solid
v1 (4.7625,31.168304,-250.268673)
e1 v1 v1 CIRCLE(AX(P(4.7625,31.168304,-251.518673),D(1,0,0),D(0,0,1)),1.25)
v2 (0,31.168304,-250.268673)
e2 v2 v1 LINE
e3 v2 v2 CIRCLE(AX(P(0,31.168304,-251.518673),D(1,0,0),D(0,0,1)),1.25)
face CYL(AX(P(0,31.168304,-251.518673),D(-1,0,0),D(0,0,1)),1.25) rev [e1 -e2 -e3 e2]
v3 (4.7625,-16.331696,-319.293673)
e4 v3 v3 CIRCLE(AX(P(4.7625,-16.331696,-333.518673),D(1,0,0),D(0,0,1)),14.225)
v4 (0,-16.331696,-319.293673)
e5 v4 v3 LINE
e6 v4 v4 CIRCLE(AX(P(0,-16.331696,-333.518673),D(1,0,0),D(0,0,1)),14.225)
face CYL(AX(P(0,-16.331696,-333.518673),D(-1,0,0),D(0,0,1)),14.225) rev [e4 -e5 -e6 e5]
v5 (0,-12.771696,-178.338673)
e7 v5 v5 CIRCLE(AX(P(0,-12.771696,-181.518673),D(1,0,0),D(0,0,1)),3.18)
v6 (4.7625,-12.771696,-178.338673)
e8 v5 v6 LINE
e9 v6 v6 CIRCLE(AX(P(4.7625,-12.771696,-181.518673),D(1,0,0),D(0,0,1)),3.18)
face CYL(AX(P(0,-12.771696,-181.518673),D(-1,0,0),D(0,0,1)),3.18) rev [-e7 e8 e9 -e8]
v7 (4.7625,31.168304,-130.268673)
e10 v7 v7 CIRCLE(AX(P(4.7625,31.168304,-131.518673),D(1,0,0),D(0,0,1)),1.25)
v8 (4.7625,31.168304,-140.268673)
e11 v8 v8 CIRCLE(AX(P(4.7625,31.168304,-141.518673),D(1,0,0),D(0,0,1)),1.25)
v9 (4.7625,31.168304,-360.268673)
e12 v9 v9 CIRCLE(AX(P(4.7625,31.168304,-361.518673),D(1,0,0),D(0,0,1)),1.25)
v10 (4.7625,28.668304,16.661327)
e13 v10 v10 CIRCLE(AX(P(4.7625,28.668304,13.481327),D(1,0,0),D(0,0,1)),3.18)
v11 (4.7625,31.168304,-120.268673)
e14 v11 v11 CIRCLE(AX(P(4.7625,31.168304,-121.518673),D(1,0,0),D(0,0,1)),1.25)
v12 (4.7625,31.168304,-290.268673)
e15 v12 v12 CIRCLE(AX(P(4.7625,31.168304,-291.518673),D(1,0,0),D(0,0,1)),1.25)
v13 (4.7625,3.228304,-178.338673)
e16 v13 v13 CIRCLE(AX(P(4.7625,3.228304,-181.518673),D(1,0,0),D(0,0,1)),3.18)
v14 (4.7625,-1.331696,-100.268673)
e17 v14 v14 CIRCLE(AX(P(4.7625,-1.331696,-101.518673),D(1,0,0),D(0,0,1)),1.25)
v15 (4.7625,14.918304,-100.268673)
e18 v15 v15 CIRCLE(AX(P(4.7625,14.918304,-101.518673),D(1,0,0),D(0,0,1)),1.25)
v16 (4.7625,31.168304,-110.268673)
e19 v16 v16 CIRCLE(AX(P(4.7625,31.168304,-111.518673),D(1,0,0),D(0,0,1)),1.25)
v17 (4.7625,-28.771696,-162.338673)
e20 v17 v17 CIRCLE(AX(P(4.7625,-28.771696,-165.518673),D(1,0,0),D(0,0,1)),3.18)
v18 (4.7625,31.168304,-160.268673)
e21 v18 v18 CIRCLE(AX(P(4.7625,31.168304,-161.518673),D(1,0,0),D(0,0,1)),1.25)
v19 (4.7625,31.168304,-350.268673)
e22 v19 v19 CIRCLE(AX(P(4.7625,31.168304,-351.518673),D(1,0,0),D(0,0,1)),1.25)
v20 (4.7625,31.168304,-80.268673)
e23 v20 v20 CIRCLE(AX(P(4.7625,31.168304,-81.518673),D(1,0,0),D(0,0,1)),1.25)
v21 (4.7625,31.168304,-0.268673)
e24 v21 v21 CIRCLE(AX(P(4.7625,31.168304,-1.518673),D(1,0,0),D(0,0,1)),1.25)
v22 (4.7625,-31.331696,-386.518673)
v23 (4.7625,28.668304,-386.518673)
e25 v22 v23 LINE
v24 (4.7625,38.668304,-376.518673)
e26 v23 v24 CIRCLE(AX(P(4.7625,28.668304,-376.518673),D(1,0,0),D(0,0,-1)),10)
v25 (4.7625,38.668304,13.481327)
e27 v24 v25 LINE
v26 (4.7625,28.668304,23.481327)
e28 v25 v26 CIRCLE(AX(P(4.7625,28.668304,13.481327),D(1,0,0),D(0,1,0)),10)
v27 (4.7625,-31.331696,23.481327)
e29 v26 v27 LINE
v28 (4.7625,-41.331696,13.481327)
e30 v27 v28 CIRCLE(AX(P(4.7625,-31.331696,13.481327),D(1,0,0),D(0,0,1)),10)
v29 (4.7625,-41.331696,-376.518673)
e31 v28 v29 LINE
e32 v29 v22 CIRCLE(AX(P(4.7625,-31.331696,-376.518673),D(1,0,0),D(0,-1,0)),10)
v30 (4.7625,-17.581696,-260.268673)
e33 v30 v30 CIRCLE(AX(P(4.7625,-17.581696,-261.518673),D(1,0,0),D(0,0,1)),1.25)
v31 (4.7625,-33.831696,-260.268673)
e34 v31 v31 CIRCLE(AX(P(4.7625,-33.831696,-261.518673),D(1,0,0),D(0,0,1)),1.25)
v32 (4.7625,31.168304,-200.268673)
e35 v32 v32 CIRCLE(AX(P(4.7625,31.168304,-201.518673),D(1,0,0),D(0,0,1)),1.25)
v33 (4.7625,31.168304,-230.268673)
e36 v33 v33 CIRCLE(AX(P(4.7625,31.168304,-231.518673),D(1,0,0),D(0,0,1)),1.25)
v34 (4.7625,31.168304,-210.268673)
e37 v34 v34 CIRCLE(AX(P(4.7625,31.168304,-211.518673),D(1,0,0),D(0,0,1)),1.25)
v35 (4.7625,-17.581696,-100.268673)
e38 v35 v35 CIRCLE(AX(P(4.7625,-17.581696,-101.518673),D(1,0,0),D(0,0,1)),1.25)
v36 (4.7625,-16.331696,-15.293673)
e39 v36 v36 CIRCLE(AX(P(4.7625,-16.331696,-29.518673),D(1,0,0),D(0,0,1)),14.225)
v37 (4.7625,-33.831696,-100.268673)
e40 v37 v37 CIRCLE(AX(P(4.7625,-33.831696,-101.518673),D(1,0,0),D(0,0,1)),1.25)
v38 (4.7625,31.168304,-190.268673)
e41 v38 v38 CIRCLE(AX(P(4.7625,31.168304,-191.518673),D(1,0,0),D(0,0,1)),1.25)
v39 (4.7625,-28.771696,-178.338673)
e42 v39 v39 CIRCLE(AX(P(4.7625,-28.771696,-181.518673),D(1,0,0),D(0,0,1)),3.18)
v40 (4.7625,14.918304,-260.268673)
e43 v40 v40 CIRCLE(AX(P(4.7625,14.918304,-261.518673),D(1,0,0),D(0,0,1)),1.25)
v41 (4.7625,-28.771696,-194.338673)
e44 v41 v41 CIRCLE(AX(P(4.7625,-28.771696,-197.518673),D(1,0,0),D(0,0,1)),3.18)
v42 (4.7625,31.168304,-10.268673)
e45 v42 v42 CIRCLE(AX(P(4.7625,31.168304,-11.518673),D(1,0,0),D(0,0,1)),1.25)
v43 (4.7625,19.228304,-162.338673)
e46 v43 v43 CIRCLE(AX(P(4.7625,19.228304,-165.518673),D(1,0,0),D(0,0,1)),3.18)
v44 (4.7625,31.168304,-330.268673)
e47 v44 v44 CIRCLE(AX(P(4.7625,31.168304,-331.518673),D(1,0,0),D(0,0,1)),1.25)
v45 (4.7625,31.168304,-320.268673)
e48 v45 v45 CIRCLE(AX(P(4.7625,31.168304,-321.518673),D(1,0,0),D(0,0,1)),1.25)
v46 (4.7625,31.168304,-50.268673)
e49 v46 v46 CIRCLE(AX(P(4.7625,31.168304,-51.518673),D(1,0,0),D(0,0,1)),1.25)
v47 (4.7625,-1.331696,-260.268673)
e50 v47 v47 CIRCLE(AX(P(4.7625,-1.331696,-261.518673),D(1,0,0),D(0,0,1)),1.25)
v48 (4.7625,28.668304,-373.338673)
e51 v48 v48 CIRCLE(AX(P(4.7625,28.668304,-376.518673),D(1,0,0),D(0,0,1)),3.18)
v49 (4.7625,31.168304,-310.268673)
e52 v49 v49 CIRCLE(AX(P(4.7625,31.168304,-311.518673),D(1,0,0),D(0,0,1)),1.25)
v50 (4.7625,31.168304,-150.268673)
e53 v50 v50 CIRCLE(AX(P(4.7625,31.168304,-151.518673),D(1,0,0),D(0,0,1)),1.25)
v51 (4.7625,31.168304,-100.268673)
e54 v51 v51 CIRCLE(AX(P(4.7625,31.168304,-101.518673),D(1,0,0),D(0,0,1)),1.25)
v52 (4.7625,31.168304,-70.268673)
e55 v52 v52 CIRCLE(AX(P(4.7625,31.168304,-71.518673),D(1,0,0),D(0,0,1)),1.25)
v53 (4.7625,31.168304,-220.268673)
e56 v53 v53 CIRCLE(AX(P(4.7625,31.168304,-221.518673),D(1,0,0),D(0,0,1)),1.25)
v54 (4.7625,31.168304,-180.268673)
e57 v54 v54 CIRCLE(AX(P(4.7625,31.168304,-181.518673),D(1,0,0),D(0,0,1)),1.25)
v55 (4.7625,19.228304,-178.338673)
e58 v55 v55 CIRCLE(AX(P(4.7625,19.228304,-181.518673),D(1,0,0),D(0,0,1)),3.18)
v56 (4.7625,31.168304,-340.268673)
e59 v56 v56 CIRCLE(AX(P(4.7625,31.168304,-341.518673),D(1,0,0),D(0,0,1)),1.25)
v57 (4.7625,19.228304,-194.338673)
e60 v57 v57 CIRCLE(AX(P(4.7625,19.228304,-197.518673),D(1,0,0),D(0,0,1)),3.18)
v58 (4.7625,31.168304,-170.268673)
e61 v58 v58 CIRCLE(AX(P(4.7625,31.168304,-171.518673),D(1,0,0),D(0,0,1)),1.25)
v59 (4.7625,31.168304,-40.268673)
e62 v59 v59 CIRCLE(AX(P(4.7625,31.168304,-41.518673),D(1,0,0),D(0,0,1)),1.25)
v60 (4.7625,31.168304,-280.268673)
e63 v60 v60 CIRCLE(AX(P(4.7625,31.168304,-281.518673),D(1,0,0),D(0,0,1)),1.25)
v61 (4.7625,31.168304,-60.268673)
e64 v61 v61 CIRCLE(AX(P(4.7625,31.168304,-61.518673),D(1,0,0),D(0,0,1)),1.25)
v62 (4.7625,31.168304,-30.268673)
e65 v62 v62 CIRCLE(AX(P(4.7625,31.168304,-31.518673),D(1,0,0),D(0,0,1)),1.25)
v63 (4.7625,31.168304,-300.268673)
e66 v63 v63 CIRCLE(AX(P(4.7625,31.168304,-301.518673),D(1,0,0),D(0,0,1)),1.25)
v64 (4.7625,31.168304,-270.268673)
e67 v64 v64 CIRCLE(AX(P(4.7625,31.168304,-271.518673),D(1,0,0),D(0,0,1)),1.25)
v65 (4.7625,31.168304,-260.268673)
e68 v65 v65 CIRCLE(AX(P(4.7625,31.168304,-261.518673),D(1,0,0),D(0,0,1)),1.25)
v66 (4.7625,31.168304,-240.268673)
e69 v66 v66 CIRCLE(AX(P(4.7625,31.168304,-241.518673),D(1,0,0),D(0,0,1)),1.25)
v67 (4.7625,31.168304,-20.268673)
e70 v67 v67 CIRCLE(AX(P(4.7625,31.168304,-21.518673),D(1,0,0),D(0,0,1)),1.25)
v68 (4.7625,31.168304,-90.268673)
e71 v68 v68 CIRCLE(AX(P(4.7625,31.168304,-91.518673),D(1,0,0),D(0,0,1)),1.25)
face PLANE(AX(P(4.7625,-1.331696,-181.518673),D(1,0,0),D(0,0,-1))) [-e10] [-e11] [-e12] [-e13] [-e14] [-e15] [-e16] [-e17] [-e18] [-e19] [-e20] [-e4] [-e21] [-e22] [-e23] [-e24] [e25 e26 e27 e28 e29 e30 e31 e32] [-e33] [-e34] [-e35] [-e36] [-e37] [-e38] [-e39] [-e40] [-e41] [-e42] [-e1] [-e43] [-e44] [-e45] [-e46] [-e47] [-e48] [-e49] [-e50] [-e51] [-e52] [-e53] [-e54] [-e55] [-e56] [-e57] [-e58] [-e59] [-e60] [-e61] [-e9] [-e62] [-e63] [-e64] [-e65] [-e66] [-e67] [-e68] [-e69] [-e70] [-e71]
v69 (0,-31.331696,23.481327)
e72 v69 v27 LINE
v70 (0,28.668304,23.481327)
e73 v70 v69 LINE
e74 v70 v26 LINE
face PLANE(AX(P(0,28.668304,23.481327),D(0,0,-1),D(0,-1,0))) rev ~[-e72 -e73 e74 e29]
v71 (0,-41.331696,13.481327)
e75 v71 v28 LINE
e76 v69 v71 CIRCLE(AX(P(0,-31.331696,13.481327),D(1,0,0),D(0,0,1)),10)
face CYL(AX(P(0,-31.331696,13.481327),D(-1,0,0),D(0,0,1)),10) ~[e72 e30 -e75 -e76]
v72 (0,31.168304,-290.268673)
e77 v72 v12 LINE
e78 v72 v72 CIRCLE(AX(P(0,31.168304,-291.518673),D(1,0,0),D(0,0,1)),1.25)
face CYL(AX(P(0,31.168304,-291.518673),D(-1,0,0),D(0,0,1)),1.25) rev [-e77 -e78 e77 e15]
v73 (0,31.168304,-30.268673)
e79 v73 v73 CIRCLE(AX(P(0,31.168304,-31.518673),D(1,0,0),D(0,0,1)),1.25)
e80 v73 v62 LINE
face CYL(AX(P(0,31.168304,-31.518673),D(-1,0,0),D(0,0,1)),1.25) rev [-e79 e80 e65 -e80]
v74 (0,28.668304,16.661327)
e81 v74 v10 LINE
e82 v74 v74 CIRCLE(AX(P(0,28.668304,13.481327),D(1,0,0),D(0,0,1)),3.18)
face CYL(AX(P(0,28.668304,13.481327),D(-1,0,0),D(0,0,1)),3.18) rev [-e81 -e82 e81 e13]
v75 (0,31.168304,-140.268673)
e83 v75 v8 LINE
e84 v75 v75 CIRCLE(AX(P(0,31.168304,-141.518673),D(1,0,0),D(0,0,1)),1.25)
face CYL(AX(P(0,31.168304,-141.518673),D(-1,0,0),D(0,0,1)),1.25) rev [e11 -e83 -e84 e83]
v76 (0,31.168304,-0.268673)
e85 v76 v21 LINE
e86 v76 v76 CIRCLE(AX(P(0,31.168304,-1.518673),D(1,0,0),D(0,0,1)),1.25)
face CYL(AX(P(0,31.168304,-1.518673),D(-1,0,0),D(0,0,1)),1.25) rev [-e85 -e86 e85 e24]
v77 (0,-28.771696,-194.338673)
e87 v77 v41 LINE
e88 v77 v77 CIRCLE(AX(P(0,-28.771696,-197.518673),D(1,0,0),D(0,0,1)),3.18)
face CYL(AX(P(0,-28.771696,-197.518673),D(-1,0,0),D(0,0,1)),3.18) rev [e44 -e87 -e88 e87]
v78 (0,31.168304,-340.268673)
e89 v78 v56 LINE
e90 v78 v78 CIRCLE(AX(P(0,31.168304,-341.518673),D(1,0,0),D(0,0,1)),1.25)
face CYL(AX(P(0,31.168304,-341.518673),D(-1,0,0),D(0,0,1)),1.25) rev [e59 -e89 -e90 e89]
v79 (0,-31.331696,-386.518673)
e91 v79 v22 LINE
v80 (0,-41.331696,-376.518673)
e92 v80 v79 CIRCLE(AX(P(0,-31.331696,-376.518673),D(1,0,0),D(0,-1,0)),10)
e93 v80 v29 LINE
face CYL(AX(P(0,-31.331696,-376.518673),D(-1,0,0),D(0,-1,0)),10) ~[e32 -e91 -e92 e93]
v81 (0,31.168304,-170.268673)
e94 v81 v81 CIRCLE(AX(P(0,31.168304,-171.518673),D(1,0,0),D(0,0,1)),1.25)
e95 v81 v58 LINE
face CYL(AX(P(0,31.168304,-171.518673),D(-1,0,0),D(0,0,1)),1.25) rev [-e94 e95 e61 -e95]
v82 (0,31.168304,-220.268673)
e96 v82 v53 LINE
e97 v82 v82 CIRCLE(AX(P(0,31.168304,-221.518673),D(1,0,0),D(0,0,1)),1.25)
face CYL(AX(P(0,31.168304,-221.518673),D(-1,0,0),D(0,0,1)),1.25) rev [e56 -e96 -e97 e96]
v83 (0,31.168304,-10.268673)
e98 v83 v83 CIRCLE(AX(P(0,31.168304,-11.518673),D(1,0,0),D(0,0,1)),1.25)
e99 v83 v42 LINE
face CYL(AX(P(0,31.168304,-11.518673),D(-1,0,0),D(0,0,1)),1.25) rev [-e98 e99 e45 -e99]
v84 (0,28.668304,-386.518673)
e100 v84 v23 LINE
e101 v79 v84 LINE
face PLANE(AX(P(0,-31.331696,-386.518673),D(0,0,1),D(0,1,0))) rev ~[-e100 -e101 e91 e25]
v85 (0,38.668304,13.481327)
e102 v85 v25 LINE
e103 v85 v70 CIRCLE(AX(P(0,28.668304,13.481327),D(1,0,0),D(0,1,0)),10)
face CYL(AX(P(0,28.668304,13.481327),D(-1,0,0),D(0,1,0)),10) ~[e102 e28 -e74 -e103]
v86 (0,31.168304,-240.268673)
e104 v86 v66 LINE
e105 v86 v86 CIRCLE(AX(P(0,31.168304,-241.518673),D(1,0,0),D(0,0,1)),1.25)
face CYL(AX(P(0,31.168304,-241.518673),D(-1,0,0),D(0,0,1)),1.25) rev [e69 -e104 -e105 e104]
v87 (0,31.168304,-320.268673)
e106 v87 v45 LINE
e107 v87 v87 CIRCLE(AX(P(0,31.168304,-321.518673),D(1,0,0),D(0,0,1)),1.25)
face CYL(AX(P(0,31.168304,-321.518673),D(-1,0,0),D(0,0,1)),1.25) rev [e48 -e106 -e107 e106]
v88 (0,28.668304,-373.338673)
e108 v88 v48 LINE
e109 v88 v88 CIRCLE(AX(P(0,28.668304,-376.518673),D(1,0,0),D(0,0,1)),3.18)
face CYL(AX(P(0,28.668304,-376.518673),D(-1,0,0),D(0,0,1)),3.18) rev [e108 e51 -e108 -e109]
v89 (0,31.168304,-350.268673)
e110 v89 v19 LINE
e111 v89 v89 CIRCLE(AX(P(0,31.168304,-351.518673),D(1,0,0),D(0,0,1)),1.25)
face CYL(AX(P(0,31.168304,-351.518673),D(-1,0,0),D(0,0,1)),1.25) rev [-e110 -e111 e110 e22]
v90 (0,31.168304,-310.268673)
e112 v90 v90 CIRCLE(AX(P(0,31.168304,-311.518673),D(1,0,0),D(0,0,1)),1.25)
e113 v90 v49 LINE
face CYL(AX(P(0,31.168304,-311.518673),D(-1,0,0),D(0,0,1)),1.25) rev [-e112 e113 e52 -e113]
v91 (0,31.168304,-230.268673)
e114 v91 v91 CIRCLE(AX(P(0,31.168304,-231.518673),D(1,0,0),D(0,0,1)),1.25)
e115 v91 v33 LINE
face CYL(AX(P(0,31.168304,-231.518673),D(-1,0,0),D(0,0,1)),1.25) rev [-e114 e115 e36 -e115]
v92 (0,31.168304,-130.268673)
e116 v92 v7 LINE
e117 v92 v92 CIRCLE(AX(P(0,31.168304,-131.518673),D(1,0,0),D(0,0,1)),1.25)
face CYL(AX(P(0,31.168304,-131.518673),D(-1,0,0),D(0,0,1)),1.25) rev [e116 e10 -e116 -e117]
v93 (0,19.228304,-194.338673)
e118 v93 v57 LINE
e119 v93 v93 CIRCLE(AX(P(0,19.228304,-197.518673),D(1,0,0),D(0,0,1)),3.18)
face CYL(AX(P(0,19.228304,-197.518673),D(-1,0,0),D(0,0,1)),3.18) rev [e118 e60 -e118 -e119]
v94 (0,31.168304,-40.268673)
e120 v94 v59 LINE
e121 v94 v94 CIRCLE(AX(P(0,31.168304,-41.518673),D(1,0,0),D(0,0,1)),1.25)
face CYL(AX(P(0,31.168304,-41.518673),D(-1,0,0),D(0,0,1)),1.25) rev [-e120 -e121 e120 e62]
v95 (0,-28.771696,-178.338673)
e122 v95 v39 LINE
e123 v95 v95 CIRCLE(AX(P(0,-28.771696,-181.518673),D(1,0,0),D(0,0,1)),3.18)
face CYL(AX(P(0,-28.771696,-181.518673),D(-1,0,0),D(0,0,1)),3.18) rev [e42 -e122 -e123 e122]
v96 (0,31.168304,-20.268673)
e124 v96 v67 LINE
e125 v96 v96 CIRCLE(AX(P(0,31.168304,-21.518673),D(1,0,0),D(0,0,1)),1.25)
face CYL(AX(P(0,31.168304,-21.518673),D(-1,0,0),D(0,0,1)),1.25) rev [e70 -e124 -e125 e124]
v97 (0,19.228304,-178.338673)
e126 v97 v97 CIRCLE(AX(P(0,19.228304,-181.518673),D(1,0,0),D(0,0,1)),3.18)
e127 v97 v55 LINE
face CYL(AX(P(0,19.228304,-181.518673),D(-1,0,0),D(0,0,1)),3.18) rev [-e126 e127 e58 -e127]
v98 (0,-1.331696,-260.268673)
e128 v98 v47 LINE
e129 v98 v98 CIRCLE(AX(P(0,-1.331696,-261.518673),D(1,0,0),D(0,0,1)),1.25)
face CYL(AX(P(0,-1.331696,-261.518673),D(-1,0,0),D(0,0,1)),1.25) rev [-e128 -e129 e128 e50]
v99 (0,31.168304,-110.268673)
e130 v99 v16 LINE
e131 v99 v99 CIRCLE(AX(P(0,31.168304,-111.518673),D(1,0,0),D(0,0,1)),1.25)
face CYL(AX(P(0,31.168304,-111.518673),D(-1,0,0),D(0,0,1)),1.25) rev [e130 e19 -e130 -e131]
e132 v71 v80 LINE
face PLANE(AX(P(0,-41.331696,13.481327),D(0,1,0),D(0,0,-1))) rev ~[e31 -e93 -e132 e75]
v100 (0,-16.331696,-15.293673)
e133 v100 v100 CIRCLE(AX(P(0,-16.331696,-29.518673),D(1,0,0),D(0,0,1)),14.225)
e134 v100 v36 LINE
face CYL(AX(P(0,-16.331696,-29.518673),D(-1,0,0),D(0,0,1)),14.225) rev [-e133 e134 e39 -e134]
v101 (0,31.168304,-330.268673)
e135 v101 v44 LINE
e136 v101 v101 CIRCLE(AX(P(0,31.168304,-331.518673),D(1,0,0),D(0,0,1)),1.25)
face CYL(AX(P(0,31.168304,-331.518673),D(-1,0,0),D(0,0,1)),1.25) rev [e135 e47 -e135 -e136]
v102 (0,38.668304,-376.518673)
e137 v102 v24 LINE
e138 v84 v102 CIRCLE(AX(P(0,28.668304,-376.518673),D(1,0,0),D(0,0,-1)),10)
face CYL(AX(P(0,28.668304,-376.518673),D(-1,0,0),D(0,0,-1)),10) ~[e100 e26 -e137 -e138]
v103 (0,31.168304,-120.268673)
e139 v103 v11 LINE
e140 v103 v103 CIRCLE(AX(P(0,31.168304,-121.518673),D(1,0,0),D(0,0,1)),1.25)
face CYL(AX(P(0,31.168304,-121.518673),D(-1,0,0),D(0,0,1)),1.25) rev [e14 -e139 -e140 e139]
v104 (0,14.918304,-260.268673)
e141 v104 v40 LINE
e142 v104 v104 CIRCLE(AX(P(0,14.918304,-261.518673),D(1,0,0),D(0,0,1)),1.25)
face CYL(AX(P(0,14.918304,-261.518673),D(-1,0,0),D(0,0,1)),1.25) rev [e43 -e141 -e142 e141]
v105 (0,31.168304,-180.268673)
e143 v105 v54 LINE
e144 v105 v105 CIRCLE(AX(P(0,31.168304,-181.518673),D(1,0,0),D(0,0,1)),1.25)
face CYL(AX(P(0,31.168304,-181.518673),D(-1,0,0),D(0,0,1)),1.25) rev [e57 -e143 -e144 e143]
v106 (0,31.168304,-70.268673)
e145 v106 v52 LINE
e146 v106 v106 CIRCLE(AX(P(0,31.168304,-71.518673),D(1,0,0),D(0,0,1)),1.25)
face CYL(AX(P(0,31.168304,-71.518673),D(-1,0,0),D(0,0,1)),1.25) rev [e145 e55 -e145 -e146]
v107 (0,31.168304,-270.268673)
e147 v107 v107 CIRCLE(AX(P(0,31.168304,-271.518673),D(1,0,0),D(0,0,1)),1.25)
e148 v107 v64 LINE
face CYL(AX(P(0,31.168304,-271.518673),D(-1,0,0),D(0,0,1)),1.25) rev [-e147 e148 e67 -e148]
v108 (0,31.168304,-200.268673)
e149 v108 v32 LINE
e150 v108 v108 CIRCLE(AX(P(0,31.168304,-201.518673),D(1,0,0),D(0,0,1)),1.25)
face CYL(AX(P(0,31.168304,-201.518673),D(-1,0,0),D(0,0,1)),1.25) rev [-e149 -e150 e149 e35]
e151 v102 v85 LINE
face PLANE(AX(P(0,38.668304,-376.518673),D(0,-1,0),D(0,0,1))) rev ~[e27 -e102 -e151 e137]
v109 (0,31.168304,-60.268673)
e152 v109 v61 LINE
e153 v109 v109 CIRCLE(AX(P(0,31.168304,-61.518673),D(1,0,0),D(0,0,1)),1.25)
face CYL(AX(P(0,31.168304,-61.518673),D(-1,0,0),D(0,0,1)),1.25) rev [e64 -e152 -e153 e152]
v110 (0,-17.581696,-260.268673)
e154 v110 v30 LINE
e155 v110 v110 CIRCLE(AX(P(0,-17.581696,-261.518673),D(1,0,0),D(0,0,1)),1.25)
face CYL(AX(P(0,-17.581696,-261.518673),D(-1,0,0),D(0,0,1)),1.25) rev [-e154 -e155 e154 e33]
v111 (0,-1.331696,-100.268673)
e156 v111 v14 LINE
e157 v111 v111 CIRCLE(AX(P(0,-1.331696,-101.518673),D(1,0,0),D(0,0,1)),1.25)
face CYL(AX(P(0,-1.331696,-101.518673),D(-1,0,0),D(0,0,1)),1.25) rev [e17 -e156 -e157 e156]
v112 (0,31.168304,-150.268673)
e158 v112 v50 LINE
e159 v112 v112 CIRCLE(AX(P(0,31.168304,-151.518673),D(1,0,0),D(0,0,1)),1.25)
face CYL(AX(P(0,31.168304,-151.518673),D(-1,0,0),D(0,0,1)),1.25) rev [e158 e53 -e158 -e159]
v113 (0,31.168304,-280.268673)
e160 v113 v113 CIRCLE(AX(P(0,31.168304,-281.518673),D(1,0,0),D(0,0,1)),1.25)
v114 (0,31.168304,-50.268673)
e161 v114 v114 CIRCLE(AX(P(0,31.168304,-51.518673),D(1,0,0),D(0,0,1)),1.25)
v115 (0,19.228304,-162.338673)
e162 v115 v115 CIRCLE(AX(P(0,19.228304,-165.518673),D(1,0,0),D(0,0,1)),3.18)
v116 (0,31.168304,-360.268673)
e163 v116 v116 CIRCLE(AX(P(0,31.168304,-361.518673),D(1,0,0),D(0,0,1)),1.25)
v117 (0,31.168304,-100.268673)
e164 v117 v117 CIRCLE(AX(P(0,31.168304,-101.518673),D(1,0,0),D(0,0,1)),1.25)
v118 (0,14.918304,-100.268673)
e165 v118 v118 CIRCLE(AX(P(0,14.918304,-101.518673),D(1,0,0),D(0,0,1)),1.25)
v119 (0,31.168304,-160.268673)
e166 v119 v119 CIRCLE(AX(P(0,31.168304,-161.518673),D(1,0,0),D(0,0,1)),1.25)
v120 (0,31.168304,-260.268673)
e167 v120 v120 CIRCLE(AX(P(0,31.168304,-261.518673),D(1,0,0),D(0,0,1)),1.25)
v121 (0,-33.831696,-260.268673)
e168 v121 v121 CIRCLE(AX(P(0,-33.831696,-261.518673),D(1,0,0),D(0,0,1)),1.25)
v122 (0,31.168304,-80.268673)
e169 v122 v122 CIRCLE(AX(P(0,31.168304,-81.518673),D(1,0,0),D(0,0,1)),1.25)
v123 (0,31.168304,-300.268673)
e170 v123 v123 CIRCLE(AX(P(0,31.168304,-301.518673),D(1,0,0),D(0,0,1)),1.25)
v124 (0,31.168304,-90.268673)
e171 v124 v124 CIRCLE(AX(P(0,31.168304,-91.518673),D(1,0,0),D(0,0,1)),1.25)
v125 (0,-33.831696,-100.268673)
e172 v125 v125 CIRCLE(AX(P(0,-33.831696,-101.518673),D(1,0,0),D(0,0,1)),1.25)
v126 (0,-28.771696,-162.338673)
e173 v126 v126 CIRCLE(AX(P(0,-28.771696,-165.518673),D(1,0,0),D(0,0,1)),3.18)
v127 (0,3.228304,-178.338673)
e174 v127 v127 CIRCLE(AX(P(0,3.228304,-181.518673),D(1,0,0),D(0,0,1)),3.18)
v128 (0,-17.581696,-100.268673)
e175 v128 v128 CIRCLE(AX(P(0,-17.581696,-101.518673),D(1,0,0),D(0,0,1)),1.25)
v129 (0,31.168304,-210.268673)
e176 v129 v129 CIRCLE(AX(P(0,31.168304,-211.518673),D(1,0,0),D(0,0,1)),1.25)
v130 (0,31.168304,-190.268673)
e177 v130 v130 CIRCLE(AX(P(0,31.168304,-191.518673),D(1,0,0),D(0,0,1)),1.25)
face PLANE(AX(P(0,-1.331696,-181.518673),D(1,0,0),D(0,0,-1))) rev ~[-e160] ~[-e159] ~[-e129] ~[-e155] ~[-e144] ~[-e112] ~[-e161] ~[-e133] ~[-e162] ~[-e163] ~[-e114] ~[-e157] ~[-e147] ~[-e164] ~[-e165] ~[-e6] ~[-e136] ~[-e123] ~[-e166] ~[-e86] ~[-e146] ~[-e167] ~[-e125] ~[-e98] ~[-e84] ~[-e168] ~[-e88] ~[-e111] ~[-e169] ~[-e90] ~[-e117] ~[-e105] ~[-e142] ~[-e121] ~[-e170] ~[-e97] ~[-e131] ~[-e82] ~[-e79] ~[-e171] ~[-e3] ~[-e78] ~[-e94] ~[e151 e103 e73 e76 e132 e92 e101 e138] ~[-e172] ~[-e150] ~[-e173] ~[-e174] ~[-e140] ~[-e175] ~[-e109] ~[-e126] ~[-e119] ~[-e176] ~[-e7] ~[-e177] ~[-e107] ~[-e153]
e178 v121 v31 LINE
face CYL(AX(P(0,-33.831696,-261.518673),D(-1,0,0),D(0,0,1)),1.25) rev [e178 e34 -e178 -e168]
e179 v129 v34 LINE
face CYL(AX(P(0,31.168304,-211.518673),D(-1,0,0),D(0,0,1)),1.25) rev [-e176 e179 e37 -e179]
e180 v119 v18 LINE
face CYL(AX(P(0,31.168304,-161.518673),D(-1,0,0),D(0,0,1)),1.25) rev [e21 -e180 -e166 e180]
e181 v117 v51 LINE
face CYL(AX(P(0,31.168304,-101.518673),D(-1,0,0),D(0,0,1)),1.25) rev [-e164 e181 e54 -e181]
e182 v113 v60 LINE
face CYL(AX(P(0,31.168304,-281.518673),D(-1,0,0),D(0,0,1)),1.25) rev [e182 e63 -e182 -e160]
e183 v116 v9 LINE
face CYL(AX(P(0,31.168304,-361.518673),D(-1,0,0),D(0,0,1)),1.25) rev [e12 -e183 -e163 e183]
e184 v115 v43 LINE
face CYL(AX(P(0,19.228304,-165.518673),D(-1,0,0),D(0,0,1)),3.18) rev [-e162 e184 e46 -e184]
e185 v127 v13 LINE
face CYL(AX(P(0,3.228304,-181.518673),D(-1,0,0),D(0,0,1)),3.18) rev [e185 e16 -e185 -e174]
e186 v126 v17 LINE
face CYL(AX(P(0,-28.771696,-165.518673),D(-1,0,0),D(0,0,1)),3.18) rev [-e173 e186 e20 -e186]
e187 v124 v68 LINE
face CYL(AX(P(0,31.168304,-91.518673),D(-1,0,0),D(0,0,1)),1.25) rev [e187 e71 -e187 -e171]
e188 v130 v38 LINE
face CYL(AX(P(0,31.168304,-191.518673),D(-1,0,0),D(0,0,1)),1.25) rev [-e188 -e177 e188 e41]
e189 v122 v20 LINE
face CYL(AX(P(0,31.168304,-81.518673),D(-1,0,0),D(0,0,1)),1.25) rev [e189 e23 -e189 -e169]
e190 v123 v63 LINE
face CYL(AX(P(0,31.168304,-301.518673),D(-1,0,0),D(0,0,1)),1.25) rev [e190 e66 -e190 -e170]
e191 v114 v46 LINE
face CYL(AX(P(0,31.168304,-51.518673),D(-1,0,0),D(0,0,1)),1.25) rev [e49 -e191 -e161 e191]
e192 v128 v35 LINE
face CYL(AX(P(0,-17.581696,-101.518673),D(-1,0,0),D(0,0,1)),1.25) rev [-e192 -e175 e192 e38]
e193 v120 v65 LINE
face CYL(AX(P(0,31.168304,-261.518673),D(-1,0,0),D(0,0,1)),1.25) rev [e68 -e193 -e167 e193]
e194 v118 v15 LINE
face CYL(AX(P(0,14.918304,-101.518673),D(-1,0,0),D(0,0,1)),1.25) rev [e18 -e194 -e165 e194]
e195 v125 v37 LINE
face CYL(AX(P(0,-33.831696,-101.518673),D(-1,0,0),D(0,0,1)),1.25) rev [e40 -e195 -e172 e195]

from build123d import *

# Parameters (mm, degrees)
SKETCH2_R           = 14.225
SKETCH2_R_2         = 3.18
SKETCH2_R_3         = 1.25
BOSS_EXTRUDE1_DEPTH = 4.7625


with BuildPart() as part:
    # Sketch2 → Boss-Extrude1 (new body)
    with BuildSketch(Plane(origin=(0, 0, 0), x_dir=(0, 0, -1), z_dir=(1, 0, 0))):
        with BuildLine():
            Line((-23.48132736, 28.668303571), (-23.48132736, -31.331696429))
            ThreePointArc((-23.48132736, -31.331696429), (-20.552395172, -38.40276424), (-13.48132736, -41.331696429))
            Line((-13.48132736, -41.331696429), (376.51867264, -41.331696429))
            ThreePointArc((376.51867264, -41.331696429), (383.589740452, -38.40276424), (386.51867264, -31.331696429))
            Line((386.51867264, -31.331696429), (386.51867264, 28.668303571))
            ThreePointArc((386.51867264, 28.668303571), (383.589740452, 35.739371383), (376.51867264, 38.668303571))
            Line((376.51867264, 38.668303571), (-13.48132736, 38.668303571))
            ThreePointArc((-13.48132736, 38.668303571), (-20.552395172, 35.739371383), (-23.48132736, 28.668303571))
        make_face()
        with Locations(Location((29.51867264, -16.331696429, 0), (0, 0, 180))):
            Circle(SKETCH2_R, mode=Mode.SUBTRACT)
        with Locations(Location((333.51867264, -16.331696429, 0), (0, 0, 180))):
            Circle(SKETCH2_R, mode=Mode.SUBTRACT)
        with Locations(Location((181.51867264, -28.771696429, 0), (0, 0, 180))):
            Circle(SKETCH2_R_2, mode=Mode.SUBTRACT)
        with Locations(Location((197.51867264, -28.771696429, 0), (0, 0, 180))):
            Circle(SKETCH2_R_2, mode=Mode.SUBTRACT)
        with Locations(Location((197.51867264, 19.228303571, 0), (0, 0, 180))):
            Circle(SKETCH2_R_2, mode=Mode.SUBTRACT)
        with Locations(Location((181.51867264, -12.771696429, 0), (0, 0, 180))):
            Circle(SKETCH2_R_2, mode=Mode.SUBTRACT)
        with Locations(Location((181.51867264, 3.228303571, 0), (0, 0, 180))):
            Circle(SKETCH2_R_2, mode=Mode.SUBTRACT)
        with Locations(Location((181.51867264, 19.228303571, 0), (0, 0, 180))):
            Circle(SKETCH2_R_2, mode=Mode.SUBTRACT)
        with Locations(Location((165.51867264, -28.771696429, 0), (0, 0, 180))):
            Circle(SKETCH2_R_2, mode=Mode.SUBTRACT)
        with Locations(Location((165.51867264, 19.228303571, 0), (0, 0, 180))):
            Circle(SKETCH2_R_2, mode=Mode.SUBTRACT)
        with Locations(Location((1.51867264, 31.168303571, 0), (0, 0, 180))):
            Circle(SKETCH2_R_3, mode=Mode.SUBTRACT)
        with Locations(Location((11.51867264, 31.168303571, 0), (0, 0, 180))):
            Circle(SKETCH2_R_3, mode=Mode.SUBTRACT)
        with Locations(Location((21.51867264, 31.168303571, 0), (0, 0, 180))):
            Circle(SKETCH2_R_3, mode=Mode.SUBTRACT)
        with Locations(Location((31.51867264, 31.168303571, 0), (0, 0, 180))):
            Circle(SKETCH2_R_3, mode=Mode.SUBTRACT)
        with Locations(Location((41.51867264, 31.168303571, 0), (0, 0, 180))):
            Circle(SKETCH2_R_3, mode=Mode.SUBTRACT)
        with Locations(Location((51.51867264, 31.168303571, 0), (0, 0, 180))):
            Circle(SKETCH2_R_3, mode=Mode.SUBTRACT)
        with Locations(Location((61.51867264, 31.168303571, 0), (0, 0, 180))):
            Circle(SKETCH2_R_3, mode=Mode.SUBTRACT)
        with Locations(Location((71.51867264, 31.168303571, 0), (0, 0, 180))):
            Circle(SKETCH2_R_3, mode=Mode.SUBTRACT)
        with Locations(Location((81.51867264, 31.168303571, 0), (0, 0, 180))):
            Circle(SKETCH2_R_3, mode=Mode.SUBTRACT)
        with Locations(Location((91.51867264, 31.168303571, 0), (0, 0, 180))):
            Circle(SKETCH2_R_3, mode=Mode.SUBTRACT)
        with Locations(Location((101.51867264, 31.168303571, 0), (0, 0, 180))):
            Circle(SKETCH2_R_3, mode=Mode.SUBTRACT)
        with Locations(Location((111.51867264, 31.168303571, 0), (0, 0, 180))):
            Circle(SKETCH2_R_3, mode=Mode.SUBTRACT)
        with Locations(Location((121.51867264, 31.168303571, 0), (0, 0, 180))):
            Circle(SKETCH2_R_3, mode=Mode.SUBTRACT)
        with Locations(Location((131.51867264, 31.168303571, 0), (0, 0, 180))):
            Circle(SKETCH2_R_3, mode=Mode.SUBTRACT)
        with Locations(Location((141.51867264, 31.168303571, 0), (0, 0, 180))):
            Circle(SKETCH2_R_3, mode=Mode.SUBTRACT)
        with Locations(Location((151.51867264, 31.168303571, 0), (0, 0, 180))):
            Circle(SKETCH2_R_3, mode=Mode.SUBTRACT)
        with Locations(Location((161.51867264, 31.168303571, 0), (0, 0, 180))):
            Circle(SKETCH2_R_3, mode=Mode.SUBTRACT)
        with Locations(Location((171.51867264, 31.168303571, 0), (0, 0, 180))):
            Circle(SKETCH2_R_3, mode=Mode.SUBTRACT)
        with Locations(Location((181.51867264, 31.168303571, 0), (0, 0, 180))):
            Circle(SKETCH2_R_3, mode=Mode.SUBTRACT)
        with Locations(Location((191.51867264, 31.168303571, 0), (0, 0, 180))):
            Circle(SKETCH2_R_3, mode=Mode.SUBTRACT)
        with Locations(Location((201.51867264, 31.168303571, 0), (0, 0, 180))):
            Circle(SKETCH2_R_3, mode=Mode.SUBTRACT)
        with Locations(Location((211.51867264, 31.168303571, 0), (0, 0, 180))):
            Circle(SKETCH2_R_3, mode=Mode.SUBTRACT)
        with Locations(Location((221.51867264, 31.168303571, 0), (0, 0, 180))):
            Circle(SKETCH2_R_3, mode=Mode.SUBTRACT)
        with Locations(Location((231.51867264, 31.168303571, 0), (0, 0, 180))):
            Circle(SKETCH2_R_3, mode=Mode.SUBTRACT)
        with Locations(Location((241.51867264, 31.168303571, 0), (0, 0, 180))):
            Circle(SKETCH2_R_3, mode=Mode.SUBTRACT)
        with Locations(Location((251.51867264, 31.168303571, 0), (0, 0, 180))):
            Circle(SKETCH2_R_3, mode=Mode.SUBTRACT)
        with Locations(Location((261.51867264, 31.168303571, 0), (0, 0, 180))):
            Circle(SKETCH2_R_3, mode=Mode.SUBTRACT)
        with Locations(Location((271.51867264, 31.168303571, 0), (0, 0, 180))):
            Circle(SKETCH2_R_3, mode=Mode.SUBTRACT)
        with Locations(Location((281.51867264, 31.168303571, 0), (0, 0, 180))):
            Circle(SKETCH2_R_3, mode=Mode.SUBTRACT)
        with Locations(Location((291.51867264, 31.168303571, 0), (0, 0, 180))):
            Circle(SKETCH2_R_3, mode=Mode.SUBTRACT)
        with Locations(Location((301.51867264, 31.168303571, 0), (0, 0, 180))):
            Circle(SKETCH2_R_3, mode=Mode.SUBTRACT)
        with Locations(Location((311.51867264, 31.168303571, 0), (0, 0, 180))):
            Circle(SKETCH2_R_3, mode=Mode.SUBTRACT)
        with Locations(Location((321.51867264, 31.168303571, 0), (0, 0, 180))):
            Circle(SKETCH2_R_3, mode=Mode.SUBTRACT)
        with Locations(Location((331.51867264, 31.168303571, 0), (0, 0, 180))):
            Circle(SKETCH2_R_3, mode=Mode.SUBTRACT)
        with Locations(Location((341.51867264, 31.168303571, 0), (0, 0, 180))):
            Circle(SKETCH2_R_3, mode=Mode.SUBTRACT)
        with Locations(Location((351.51867264, 31.168303571, 0), (0, 0, 180))):
            Circle(SKETCH2_R_3, mode=Mode.SUBTRACT)
        with Locations(Location((361.51867264, 31.168303571, 0), (0, 0, 180))):
            Circle(SKETCH2_R_3, mode=Mode.SUBTRACT)
        with Locations(Location((101.51867264, -33.831696429, 0), (0, 0, 180))):
            Circle(SKETCH2_R_3, mode=Mode.SUBTRACT)
        with Locations(Location((261.51867264, -33.831696429, 0), (0, 0, 180))):
            Circle(SKETCH2_R_3, mode=Mode.SUBTRACT)
        with Locations(Location((-13.48132736, 28.668303571, 0), (0, 0, 180))):
            Circle(SKETCH2_R_2, mode=Mode.SUBTRACT)
        with Locations(Location((376.51867264, 28.668303571, 0), (0, 0, 180))):
            Circle(SKETCH2_R_2, mode=Mode.SUBTRACT)
        with Locations(Location((101.51867264, -17.581696429, 0), (0, 0, 180))):
            Circle(SKETCH2_R_3, mode=Mode.SUBTRACT)
        with Locations(Location((261.51867264, -17.581696429, 0), (0, 0, 180))):
            Circle(SKETCH2_R_3, mode=Mode.SUBTRACT)
        with Locations(Location((101.51867264, -1.331696429, 0), (0, 0, 180))):
            Circle(SKETCH2_R_3, mode=Mode.SUBTRACT)
        with Locations(Location((261.51867264, -1.331696429, 0), (0, 0, 180))):
            Circle(SKETCH2_R_3, mode=Mode.SUBTRACT)
        with Locations(Location((101.51867264, 14.918303571, 0), (0, 0, 180))):
            Circle(SKETCH2_R_3, mode=Mode.SUBTRACT)
        with Locations(Location((261.51867264, 14.918303571, 0), (0, 0, 180))):
            Circle(SKETCH2_R_3, mode=Mode.SUBTRACT)
    extrude(amount=BOSS_EXTRUDE1_DEPTH)


solid = part.part
